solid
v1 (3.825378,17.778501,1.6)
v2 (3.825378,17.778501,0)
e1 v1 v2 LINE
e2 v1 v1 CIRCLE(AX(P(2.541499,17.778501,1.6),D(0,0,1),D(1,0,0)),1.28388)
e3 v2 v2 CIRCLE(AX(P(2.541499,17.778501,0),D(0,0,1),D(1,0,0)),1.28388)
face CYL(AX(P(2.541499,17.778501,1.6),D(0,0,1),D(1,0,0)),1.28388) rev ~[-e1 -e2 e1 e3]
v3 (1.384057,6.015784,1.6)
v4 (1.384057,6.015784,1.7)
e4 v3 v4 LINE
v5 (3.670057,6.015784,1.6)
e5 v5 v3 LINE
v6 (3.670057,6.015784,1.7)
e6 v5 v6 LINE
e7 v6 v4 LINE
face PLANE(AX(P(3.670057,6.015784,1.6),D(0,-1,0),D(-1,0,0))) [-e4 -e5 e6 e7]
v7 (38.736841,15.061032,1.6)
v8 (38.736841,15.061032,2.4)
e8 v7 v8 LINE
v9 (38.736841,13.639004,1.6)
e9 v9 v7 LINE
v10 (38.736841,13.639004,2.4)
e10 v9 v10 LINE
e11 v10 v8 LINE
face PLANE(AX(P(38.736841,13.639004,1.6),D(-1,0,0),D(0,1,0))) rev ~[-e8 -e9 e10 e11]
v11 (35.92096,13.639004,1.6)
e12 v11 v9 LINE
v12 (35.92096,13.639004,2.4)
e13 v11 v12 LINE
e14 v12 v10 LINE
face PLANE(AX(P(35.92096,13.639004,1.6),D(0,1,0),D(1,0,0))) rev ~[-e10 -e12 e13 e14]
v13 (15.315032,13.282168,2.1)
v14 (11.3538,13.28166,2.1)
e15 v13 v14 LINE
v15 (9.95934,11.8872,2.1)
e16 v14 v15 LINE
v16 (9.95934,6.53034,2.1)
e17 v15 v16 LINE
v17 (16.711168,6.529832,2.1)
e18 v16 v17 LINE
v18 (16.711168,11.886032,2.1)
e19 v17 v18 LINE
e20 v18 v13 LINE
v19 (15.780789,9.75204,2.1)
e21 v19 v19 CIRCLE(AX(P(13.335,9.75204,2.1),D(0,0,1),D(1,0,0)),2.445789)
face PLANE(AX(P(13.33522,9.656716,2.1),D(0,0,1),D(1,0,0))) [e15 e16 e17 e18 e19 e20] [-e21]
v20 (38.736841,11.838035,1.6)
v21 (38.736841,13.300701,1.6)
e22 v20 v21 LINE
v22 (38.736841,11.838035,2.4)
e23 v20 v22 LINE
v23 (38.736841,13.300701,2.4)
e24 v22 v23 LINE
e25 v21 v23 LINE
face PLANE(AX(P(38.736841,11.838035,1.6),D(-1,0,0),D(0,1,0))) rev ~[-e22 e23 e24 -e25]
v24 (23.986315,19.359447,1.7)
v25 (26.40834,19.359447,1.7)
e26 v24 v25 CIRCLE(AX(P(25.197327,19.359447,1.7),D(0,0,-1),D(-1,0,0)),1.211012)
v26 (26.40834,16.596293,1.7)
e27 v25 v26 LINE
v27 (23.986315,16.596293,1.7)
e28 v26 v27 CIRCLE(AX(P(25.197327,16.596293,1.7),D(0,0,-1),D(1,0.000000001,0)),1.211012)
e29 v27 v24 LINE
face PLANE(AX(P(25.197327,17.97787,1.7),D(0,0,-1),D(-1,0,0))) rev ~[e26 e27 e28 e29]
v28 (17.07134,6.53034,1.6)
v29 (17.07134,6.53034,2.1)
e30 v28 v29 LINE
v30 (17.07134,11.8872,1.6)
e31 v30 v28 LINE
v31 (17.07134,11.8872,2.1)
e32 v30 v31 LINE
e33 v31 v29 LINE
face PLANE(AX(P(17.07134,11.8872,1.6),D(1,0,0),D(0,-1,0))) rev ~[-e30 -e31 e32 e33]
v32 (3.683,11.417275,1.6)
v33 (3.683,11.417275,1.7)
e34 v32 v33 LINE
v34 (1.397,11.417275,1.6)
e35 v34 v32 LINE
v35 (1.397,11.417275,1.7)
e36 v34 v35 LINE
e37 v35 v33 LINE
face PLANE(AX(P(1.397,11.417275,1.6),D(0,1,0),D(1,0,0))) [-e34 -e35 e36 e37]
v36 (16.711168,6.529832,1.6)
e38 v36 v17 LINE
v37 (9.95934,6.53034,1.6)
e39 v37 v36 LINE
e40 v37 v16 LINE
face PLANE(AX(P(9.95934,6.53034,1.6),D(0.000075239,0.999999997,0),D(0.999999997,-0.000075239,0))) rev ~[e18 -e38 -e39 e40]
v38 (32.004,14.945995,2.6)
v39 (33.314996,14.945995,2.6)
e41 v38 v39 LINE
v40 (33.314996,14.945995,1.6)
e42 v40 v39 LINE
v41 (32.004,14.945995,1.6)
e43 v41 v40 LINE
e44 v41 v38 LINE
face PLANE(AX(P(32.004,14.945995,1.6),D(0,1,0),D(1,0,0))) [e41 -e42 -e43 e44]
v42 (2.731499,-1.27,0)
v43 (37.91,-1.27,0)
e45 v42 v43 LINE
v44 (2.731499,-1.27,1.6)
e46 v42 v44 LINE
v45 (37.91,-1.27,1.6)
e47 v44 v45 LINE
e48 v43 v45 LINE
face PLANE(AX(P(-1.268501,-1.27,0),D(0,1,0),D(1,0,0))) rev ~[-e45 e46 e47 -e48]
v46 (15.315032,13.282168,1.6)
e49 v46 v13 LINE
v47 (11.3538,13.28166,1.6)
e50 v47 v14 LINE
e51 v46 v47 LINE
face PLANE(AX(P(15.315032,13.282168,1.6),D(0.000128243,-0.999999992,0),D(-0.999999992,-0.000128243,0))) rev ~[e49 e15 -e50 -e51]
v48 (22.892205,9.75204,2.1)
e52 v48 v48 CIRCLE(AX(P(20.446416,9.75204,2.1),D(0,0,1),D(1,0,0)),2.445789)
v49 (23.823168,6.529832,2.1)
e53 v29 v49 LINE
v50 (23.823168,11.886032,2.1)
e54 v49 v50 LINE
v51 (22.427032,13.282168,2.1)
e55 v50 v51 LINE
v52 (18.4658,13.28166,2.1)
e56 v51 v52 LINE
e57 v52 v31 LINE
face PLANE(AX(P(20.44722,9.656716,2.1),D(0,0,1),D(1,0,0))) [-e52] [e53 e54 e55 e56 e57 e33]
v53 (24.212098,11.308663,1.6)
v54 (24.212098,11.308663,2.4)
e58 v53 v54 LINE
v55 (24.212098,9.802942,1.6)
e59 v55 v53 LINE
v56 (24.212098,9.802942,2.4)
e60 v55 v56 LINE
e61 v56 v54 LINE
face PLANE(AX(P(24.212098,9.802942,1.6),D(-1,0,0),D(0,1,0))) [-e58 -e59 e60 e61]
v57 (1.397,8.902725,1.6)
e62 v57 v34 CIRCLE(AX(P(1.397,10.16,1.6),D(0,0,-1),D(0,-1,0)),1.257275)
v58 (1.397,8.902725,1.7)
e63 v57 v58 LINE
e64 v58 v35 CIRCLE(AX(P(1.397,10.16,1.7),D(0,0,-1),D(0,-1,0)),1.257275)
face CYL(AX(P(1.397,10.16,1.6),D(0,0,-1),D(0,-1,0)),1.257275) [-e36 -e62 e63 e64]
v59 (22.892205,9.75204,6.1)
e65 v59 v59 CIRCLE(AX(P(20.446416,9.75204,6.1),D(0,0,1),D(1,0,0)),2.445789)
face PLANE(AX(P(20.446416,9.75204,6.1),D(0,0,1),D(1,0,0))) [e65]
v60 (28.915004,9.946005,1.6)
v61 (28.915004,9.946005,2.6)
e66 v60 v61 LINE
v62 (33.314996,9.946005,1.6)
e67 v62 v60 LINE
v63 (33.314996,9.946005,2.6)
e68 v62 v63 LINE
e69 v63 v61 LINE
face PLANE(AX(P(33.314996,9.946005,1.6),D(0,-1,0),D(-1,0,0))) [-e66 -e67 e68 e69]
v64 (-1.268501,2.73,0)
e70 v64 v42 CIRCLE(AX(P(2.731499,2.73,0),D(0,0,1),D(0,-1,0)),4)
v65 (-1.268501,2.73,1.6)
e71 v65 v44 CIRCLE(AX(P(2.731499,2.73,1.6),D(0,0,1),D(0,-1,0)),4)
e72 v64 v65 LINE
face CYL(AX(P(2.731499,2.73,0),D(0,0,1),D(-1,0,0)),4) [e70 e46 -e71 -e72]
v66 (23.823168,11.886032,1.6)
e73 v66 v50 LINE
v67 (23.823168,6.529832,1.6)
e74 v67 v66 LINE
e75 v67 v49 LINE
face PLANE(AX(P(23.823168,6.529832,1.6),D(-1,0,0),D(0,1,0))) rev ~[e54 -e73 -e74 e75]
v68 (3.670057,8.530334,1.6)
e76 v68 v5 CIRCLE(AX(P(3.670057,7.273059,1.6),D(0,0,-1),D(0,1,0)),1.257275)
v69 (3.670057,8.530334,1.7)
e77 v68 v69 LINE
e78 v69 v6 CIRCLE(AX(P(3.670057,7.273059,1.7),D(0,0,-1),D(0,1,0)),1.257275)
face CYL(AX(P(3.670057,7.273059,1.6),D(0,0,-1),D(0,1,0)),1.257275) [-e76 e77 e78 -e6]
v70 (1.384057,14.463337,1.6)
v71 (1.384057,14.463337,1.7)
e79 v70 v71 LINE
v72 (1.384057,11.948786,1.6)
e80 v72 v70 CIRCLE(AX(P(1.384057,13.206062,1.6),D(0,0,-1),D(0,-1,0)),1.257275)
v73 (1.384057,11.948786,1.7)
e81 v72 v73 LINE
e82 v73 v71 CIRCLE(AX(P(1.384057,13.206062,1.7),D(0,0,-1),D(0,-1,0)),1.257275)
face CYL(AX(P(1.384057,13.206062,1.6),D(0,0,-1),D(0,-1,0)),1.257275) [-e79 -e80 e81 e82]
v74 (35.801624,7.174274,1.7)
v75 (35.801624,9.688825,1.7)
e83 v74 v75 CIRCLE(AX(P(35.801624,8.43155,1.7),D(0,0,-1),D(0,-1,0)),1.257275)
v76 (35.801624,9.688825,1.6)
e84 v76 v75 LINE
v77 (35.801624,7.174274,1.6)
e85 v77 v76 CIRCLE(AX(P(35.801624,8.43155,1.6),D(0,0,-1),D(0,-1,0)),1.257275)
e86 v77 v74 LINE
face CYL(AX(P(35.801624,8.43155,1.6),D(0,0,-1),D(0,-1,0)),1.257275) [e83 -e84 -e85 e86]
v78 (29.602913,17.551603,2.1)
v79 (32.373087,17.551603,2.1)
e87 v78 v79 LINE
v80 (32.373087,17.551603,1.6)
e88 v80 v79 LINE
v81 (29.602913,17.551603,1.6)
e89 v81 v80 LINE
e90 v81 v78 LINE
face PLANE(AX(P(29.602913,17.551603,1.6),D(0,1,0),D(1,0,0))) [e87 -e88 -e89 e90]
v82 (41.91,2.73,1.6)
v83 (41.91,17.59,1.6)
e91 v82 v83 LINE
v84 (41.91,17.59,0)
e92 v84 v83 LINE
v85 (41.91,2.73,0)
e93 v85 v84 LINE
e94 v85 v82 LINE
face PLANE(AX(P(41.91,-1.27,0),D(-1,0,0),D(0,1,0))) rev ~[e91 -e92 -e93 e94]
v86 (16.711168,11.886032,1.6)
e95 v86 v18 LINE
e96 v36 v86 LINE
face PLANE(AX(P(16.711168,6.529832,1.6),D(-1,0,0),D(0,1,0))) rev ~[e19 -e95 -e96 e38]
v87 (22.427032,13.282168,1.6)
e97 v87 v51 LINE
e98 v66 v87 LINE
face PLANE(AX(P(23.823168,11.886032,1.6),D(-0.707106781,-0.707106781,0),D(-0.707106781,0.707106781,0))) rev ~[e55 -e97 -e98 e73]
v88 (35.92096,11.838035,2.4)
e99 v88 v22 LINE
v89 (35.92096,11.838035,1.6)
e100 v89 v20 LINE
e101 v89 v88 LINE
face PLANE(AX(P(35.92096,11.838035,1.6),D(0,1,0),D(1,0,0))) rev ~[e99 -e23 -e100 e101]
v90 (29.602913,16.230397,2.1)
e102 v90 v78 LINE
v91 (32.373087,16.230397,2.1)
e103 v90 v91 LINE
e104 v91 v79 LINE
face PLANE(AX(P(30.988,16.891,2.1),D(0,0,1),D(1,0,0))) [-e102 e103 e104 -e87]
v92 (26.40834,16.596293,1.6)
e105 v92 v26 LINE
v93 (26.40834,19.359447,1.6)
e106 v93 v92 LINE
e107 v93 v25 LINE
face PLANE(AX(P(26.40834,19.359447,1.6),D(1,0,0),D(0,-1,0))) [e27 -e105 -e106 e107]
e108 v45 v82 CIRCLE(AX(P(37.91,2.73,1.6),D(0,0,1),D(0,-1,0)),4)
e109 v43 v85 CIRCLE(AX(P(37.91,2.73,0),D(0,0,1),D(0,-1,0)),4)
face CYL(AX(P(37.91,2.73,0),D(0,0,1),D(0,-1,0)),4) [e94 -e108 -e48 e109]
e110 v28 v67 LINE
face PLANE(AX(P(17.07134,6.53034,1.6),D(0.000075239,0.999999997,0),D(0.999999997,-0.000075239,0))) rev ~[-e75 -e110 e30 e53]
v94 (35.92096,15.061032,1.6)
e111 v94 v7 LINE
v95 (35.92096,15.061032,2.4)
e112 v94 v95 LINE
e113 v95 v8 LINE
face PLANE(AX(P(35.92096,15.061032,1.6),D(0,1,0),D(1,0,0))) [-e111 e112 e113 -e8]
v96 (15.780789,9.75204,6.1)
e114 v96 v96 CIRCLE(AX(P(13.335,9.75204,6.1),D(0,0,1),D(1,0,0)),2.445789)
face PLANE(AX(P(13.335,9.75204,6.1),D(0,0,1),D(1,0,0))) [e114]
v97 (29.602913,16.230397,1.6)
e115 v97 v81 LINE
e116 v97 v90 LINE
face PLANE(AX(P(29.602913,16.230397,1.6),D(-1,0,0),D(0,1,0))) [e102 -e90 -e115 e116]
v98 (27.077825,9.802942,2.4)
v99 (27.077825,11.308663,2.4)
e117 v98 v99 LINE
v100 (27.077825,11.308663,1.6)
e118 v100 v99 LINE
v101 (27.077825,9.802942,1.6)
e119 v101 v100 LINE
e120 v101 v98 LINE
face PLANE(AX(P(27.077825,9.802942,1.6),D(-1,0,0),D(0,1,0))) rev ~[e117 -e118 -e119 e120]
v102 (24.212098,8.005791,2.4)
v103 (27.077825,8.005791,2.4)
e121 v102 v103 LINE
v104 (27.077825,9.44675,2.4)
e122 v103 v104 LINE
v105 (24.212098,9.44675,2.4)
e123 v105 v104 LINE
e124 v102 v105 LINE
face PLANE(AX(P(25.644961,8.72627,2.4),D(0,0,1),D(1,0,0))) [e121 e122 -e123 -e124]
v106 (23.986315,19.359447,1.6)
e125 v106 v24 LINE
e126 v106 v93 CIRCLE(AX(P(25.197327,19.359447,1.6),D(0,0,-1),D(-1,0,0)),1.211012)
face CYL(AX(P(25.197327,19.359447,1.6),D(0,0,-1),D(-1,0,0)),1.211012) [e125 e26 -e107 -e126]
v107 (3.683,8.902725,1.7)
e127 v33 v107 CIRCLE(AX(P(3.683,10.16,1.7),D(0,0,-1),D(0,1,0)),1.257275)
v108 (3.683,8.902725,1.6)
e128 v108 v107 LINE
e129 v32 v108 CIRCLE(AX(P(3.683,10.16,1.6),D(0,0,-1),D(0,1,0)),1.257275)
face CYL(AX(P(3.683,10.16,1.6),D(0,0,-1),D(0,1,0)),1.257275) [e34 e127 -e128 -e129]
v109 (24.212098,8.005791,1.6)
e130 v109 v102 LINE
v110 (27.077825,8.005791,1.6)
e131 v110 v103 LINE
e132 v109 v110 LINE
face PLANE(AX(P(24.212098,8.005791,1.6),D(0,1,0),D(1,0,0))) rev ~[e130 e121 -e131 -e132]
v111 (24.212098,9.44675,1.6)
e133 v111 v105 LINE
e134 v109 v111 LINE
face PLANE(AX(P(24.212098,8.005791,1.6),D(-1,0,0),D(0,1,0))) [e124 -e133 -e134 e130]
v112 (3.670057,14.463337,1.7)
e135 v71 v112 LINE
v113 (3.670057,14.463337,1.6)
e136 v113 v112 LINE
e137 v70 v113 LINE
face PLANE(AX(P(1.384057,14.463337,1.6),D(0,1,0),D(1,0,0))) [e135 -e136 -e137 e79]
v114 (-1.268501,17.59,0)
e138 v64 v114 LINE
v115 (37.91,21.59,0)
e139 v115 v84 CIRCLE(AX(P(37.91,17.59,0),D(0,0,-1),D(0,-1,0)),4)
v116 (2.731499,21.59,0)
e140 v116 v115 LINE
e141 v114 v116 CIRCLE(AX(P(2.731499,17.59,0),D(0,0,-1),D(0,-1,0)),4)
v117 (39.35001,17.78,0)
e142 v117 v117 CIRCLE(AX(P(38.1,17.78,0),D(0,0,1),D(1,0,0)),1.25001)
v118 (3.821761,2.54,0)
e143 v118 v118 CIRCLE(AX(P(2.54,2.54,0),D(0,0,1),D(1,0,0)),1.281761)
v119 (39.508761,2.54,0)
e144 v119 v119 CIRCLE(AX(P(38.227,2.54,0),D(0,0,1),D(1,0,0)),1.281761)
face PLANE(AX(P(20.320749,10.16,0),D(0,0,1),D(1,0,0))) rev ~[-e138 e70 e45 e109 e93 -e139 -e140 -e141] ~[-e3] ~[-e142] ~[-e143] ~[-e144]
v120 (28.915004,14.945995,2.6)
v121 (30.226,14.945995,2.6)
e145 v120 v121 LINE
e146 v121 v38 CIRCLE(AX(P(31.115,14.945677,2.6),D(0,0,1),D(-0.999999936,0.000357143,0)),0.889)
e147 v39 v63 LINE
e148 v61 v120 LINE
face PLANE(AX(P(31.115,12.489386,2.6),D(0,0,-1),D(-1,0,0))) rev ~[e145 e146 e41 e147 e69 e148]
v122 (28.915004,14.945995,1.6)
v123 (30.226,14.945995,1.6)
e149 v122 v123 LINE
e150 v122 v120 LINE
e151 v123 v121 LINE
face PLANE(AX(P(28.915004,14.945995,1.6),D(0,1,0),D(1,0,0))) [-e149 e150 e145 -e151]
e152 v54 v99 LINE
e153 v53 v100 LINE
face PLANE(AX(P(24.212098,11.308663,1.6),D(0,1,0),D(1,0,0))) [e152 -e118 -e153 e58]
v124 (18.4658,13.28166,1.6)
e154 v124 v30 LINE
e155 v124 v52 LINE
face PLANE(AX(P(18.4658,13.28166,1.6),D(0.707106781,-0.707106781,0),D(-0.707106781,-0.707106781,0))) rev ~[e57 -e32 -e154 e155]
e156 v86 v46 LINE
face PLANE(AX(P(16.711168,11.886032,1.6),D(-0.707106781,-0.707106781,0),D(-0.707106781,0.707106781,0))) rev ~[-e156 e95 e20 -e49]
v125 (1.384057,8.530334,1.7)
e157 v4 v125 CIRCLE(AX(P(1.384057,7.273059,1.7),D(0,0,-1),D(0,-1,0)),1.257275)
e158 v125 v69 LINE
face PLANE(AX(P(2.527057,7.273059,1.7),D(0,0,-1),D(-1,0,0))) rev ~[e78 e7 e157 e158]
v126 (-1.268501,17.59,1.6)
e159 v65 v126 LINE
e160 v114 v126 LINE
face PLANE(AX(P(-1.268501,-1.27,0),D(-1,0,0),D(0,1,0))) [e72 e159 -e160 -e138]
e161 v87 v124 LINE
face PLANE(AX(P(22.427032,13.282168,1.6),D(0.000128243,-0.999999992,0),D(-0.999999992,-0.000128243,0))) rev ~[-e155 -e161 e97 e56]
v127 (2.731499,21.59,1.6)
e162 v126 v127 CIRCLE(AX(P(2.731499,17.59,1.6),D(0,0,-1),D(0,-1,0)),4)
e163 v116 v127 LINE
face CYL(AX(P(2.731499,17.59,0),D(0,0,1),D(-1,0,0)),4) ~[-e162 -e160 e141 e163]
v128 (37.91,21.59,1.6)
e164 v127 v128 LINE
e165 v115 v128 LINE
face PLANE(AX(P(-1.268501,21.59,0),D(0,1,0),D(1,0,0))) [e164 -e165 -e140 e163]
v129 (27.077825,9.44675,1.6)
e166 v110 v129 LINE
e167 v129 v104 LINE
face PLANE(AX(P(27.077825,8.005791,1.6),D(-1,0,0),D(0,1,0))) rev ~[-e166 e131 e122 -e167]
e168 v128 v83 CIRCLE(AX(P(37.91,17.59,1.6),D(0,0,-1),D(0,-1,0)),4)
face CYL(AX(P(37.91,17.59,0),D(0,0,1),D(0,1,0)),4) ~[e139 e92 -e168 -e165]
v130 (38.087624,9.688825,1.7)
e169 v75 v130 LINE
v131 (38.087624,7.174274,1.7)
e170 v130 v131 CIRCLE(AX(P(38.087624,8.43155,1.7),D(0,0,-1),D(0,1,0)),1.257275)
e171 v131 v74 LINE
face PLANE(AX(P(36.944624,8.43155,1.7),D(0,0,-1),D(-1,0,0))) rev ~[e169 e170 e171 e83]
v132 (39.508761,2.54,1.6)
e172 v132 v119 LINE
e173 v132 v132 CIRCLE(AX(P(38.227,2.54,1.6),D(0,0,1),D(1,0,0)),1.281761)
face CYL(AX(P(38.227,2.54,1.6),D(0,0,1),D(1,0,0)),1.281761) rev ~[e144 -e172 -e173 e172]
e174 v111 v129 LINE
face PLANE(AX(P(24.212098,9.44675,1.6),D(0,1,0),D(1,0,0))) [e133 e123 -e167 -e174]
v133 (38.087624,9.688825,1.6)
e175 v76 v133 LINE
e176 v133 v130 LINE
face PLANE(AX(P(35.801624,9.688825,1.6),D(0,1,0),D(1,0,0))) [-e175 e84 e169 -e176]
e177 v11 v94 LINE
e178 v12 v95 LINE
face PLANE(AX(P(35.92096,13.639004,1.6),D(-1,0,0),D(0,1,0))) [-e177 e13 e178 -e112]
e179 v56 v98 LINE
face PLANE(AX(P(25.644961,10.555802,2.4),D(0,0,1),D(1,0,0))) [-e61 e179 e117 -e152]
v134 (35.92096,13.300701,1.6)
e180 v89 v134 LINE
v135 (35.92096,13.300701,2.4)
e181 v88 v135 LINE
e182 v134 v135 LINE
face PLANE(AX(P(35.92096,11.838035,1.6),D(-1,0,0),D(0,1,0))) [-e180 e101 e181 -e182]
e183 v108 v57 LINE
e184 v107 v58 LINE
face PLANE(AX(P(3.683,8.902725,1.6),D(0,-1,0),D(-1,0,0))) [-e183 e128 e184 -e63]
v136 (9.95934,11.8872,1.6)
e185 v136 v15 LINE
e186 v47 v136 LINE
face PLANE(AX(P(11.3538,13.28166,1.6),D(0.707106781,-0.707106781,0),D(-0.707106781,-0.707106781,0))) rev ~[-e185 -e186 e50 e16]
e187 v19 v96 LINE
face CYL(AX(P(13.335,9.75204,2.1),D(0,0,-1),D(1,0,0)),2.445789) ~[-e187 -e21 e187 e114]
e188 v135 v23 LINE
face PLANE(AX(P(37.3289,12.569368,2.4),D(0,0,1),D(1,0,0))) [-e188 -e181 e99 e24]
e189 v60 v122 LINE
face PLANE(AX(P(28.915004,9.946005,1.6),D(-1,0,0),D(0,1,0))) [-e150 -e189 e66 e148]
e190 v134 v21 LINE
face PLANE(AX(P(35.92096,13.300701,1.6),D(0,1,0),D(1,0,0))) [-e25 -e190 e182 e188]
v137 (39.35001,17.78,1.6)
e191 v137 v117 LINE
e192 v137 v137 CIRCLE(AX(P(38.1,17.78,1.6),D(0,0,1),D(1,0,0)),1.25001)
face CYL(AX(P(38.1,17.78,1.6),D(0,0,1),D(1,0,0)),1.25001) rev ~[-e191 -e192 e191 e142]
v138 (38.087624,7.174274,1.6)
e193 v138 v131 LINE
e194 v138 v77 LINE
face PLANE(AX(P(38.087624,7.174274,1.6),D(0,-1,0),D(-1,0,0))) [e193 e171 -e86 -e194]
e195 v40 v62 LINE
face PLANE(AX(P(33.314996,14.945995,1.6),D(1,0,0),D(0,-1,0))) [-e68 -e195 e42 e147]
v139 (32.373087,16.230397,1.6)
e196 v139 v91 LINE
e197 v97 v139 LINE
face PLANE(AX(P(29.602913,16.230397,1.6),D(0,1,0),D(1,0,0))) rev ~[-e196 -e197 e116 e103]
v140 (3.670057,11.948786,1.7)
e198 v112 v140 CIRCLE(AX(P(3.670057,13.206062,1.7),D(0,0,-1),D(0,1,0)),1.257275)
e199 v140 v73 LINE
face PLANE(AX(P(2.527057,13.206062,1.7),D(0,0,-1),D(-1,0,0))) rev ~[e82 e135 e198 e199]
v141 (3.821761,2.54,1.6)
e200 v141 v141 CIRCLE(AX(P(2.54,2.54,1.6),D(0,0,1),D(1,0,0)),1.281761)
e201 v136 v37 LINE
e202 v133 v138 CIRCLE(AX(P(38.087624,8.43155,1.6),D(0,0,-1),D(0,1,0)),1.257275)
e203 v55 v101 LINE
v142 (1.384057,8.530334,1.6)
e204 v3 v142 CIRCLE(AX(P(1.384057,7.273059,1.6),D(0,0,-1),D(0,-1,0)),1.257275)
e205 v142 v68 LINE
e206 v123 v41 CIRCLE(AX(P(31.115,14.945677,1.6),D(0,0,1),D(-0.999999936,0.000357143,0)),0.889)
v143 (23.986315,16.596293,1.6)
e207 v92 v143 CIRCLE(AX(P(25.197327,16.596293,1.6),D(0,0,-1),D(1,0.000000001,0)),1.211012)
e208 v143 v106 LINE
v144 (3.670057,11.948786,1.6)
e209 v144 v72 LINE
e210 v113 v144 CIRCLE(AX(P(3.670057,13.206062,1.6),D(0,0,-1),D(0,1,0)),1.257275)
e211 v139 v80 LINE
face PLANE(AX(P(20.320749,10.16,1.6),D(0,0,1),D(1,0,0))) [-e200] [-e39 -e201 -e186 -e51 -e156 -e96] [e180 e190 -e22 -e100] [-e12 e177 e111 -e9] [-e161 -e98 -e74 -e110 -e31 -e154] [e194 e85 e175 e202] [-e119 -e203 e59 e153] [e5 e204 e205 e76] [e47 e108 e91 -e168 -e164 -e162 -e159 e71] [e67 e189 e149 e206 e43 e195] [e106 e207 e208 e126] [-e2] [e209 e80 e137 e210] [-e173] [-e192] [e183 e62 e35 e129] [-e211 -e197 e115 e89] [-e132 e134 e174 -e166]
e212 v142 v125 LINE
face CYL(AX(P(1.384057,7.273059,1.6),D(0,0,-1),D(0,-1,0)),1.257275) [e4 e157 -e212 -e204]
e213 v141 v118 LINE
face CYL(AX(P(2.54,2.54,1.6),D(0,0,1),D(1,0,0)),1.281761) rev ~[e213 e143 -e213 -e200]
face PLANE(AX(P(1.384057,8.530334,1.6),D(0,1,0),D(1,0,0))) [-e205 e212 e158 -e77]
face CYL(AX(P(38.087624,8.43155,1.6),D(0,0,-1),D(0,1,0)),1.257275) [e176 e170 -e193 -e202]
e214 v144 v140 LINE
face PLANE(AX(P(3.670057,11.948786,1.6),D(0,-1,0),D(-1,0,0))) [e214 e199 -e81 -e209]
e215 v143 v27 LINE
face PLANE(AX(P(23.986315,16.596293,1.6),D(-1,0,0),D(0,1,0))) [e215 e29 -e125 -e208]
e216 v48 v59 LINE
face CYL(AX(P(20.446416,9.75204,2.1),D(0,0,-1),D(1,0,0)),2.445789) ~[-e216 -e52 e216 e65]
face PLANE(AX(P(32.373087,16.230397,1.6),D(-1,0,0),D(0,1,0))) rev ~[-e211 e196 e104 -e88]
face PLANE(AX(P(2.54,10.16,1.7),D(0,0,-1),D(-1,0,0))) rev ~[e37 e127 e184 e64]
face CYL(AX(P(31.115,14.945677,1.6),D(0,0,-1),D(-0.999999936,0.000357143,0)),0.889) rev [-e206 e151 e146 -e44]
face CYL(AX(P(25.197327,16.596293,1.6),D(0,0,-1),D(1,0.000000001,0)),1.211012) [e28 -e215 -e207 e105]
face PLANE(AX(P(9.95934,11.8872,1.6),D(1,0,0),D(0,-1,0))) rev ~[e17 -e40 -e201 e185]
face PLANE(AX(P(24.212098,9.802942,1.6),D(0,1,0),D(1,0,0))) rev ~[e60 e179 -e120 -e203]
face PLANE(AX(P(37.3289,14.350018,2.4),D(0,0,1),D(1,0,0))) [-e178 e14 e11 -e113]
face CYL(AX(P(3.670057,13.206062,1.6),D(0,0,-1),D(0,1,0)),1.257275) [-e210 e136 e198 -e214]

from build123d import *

# Parameters (mm, degrees)
SKETCH_2_W          = 43.1785014
SKETCH_2_H          = 22.86
EXTRUDE_1_DEPTH     = 1.6
SKETCH_3_R          = 1.283879863
SKETCH_3_R_2        = 1.281760523
SKETCH_3_R_3        = 1.2500102
CUT_EXTRUDE_1_DEPTH = 1.6
EXTRUDE_2_DEPTH     = 1
EXTRUDE_3_DEPTH     = 0.5
SKETCH_6_R          = 2.445789306
EXTRUDE_4_DEPTH     = 4
EXTRUDE_5_DEPTH     = 0.1
SKETCH_9_W          = 2.815880296
SKETCH_9_H          = 1.422027446
SKETCH_9_H_2        = 1.462665737
SKETCH_9_W_2        = 2.865727124
SKETCH_9_H_3        = 1.505721031
SKETCH_9_H_4        = 1.440958836
EXTRUDE_6_DEPTH     = 0.8
SKETCH_10_W         = 2.7701748
SKETCH_10_H         = 1.3212064
EXTRUDE_7_DEPTH     = 0.5
FILLET_1_R          = 4


with BuildPart() as part:
    # 草图2 → 凸台-拉伸1 (new body)
    with BuildSketch(Plane.XY):
        with Locations((20.3207493, 10.16)):
            Rectangle(SKETCH_2_W, SKETCH_2_H)
    extrude(amount=EXTRUDE_1_DEPTH)

    # 草图3 → 切除-拉伸1 (cut)
    with BuildSketch(Plane.XY.offset(1.6)):
        with Locations((2.5414986, 17.7785014)):
            Circle(SKETCH_3_R)
        with Locations((2.54, 2.54)):
            Circle(SKETCH_3_R_2)
        with Locations((38.227, 2.54)):
            Circle(SKETCH_3_R_2)
        with Locations((38.1, 17.78)):
            Circle(SKETCH_3_R_3)
    extrude(amount=-CUT_EXTRUDE_1_DEPTH, mode=Mode.SUBTRACT)

    # 草图4 → 凸台-拉伸2 (add)
    with BuildSketch(Plane.XY.offset(1.6)):
        with BuildLine():
            Line((32.004, 14.945995), (33.3149956, 14.945995))
            Line((33.3149956, 14.945995), (33.3149956, 9.946005))
            Line((33.3149956, 9.946005), (28.9150044, 9.946005))
            Line((28.9150044, 9.946005), (28.9150044, 14.945995))
            Line((28.9150044, 14.945995), (30.226, 14.945995))
            ThreePointArc((30.226, 14.945995), (31.115, 14.056677443), (32.004, 14.945995))
        make_face()
    extrude(amount=EXTRUDE_2_DEPTH)

    # 草图5 → 凸台-拉伸3 (add)
    with BuildSketch(Plane.XY.offset(1.6)):
        Polygon((11.3538, 13.28166), (9.95934, 11.8872), (9.95934, 6.53034), (16.711168, 6.529832), (16.711168, 11.8860316), (15.3150316, 13.282168), align=None)
        Polygon((18.4658, 13.28166), (17.07134, 11.8872), (17.07134, 6.53034), (23.823168, 6.529832), (23.823168, 11.8860316), (22.4270316, 13.282168), align=None)
    extrude(amount=EXTRUDE_3_DEPTH)

    # 草图6 → 凸台-拉伸4 (add)
    with BuildSketch(Plane.XY.offset(2.1)):
        with Locations((13.335, 9.752040279)):
            Circle(SKETCH_6_R)
        with Locations((20.4464158, 9.752040279)):
            Circle(SKETCH_6_R)
    extrude(amount=EXTRUDE_4_DEPTH)

    # 草图7 → 凸台-拉伸5 (add)
    with BuildSketch(Plane.XY.offset(1.6)):
        with BuildLine():
            Line((1.397, 11.417275077), (3.683, 11.417275077))
            ThreePointArc((3.683, 11.417275077), (4.940275077, 10.16), (3.683, 8.902724923))
            Line((3.683, 8.902724923), (1.397, 8.902724923))
            ThreePointArc((1.397, 8.902724923), (0.139724923, 10.16), (1.397, 11.417275077))
        make_face()
        with BuildLine():
            Line((1.384057208, 14.463336619), (3.670057208, 14.463336619))
            ThreePointArc((3.670057208, 14.463336619), (4.927332285, 13.206061542), (3.670057208, 11.948786466))
            Line((3.670057208, 11.948786466), (1.384057208, 11.948786466))
            ThreePointArc((1.384057208, 11.948786466), (0.126782131, 13.206061542), (1.384057208, 14.463336619))
        make_face()
        with BuildLine():
            Line((1.384057208, 8.530334061), (3.670057208, 8.530334061))
            ThreePointArc((3.670057208, 8.530334061), (4.927332285, 7.273058984), (3.670057208, 6.015783908))
            Line((3.670057208, 6.015783908), (1.384057208, 6.015783908))
            ThreePointArc((1.384057208, 6.015783908), (0.126782131, 7.273058984), (1.384057208, 8.530334061))
        make_face()
        with BuildLine():
            Line((35.801623871, 9.688824593), (38.087623871, 9.688824593))
            ThreePointArc((38.087623871, 9.688824593), (39.344898948, 8.431549516), (38.087623871, 7.17427444))
            Line((38.087623871, 7.17427444), (35.801623871, 7.17427444))
            ThreePointArc((35.801623871, 7.17427444), (34.544348794, 8.431549516), (35.801623871, 9.688824593))
        make_face()
        with BuildLine():
            Line((26.408339557, 19.359447221), (26.408339557, 16.596292633))
            ThreePointArc((26.408339557, 16.596292633), (25.197327361, 15.385280436), (23.986315165, 16.596292633))
            Line((23.986315165, 16.596292633), (23.986315165, 19.359447221))
            ThreePointArc((23.986315165, 19.359447221), (25.197327361, 20.570459417), (26.408339557, 19.359447221))
        make_face()
    extrude(amount=EXTRUDE_5_DEPTH)

    # 草图9 → 凸台-拉伸6 (add)
    with BuildSketch(Plane.XY.offset(1.6)):
        with Locations((37.32890041, 14.350017877)):
            Rectangle(SKETCH_9_W, SKETCH_9_H)
        with Locations((37.32890041, 12.569367647)):
            Rectangle(SKETCH_9_W, SKETCH_9_H_2)
        with Locations((25.644961239, 10.555802193)):
            Rectangle(SKETCH_9_W_2, SKETCH_9_H_3)
        with Locations((25.644961239, 8.726270188)):
            Rectangle(SKETCH_9_W_2, SKETCH_9_H_4)
    extrude(amount=EXTRUDE_6_DEPTH)

    # 草图10 → 凸台-拉伸7 (add)
    with BuildSketch(Plane.XY.offset(1.6)):
        with Locations((30.988, 16.891)):
            Rectangle(SKETCH_10_W, SKETCH_10_H)
    extrude(amount=EXTRUDE_7_DEPTH)

    # 圆角1
    fillet_1_edges = [part.edges().sort_by_distance(p)[0] for p in [
        (-1.2685014, 21.59, 0.8),
        (41.91, 21.59, 0.8),
        (41.91, -1.27, 0.8),
        (-1.2685014, -1.27, 0.8),
    ]]
    fillet(fillet_1_edges, radius=FILLET_1_R)


solid = part.part
